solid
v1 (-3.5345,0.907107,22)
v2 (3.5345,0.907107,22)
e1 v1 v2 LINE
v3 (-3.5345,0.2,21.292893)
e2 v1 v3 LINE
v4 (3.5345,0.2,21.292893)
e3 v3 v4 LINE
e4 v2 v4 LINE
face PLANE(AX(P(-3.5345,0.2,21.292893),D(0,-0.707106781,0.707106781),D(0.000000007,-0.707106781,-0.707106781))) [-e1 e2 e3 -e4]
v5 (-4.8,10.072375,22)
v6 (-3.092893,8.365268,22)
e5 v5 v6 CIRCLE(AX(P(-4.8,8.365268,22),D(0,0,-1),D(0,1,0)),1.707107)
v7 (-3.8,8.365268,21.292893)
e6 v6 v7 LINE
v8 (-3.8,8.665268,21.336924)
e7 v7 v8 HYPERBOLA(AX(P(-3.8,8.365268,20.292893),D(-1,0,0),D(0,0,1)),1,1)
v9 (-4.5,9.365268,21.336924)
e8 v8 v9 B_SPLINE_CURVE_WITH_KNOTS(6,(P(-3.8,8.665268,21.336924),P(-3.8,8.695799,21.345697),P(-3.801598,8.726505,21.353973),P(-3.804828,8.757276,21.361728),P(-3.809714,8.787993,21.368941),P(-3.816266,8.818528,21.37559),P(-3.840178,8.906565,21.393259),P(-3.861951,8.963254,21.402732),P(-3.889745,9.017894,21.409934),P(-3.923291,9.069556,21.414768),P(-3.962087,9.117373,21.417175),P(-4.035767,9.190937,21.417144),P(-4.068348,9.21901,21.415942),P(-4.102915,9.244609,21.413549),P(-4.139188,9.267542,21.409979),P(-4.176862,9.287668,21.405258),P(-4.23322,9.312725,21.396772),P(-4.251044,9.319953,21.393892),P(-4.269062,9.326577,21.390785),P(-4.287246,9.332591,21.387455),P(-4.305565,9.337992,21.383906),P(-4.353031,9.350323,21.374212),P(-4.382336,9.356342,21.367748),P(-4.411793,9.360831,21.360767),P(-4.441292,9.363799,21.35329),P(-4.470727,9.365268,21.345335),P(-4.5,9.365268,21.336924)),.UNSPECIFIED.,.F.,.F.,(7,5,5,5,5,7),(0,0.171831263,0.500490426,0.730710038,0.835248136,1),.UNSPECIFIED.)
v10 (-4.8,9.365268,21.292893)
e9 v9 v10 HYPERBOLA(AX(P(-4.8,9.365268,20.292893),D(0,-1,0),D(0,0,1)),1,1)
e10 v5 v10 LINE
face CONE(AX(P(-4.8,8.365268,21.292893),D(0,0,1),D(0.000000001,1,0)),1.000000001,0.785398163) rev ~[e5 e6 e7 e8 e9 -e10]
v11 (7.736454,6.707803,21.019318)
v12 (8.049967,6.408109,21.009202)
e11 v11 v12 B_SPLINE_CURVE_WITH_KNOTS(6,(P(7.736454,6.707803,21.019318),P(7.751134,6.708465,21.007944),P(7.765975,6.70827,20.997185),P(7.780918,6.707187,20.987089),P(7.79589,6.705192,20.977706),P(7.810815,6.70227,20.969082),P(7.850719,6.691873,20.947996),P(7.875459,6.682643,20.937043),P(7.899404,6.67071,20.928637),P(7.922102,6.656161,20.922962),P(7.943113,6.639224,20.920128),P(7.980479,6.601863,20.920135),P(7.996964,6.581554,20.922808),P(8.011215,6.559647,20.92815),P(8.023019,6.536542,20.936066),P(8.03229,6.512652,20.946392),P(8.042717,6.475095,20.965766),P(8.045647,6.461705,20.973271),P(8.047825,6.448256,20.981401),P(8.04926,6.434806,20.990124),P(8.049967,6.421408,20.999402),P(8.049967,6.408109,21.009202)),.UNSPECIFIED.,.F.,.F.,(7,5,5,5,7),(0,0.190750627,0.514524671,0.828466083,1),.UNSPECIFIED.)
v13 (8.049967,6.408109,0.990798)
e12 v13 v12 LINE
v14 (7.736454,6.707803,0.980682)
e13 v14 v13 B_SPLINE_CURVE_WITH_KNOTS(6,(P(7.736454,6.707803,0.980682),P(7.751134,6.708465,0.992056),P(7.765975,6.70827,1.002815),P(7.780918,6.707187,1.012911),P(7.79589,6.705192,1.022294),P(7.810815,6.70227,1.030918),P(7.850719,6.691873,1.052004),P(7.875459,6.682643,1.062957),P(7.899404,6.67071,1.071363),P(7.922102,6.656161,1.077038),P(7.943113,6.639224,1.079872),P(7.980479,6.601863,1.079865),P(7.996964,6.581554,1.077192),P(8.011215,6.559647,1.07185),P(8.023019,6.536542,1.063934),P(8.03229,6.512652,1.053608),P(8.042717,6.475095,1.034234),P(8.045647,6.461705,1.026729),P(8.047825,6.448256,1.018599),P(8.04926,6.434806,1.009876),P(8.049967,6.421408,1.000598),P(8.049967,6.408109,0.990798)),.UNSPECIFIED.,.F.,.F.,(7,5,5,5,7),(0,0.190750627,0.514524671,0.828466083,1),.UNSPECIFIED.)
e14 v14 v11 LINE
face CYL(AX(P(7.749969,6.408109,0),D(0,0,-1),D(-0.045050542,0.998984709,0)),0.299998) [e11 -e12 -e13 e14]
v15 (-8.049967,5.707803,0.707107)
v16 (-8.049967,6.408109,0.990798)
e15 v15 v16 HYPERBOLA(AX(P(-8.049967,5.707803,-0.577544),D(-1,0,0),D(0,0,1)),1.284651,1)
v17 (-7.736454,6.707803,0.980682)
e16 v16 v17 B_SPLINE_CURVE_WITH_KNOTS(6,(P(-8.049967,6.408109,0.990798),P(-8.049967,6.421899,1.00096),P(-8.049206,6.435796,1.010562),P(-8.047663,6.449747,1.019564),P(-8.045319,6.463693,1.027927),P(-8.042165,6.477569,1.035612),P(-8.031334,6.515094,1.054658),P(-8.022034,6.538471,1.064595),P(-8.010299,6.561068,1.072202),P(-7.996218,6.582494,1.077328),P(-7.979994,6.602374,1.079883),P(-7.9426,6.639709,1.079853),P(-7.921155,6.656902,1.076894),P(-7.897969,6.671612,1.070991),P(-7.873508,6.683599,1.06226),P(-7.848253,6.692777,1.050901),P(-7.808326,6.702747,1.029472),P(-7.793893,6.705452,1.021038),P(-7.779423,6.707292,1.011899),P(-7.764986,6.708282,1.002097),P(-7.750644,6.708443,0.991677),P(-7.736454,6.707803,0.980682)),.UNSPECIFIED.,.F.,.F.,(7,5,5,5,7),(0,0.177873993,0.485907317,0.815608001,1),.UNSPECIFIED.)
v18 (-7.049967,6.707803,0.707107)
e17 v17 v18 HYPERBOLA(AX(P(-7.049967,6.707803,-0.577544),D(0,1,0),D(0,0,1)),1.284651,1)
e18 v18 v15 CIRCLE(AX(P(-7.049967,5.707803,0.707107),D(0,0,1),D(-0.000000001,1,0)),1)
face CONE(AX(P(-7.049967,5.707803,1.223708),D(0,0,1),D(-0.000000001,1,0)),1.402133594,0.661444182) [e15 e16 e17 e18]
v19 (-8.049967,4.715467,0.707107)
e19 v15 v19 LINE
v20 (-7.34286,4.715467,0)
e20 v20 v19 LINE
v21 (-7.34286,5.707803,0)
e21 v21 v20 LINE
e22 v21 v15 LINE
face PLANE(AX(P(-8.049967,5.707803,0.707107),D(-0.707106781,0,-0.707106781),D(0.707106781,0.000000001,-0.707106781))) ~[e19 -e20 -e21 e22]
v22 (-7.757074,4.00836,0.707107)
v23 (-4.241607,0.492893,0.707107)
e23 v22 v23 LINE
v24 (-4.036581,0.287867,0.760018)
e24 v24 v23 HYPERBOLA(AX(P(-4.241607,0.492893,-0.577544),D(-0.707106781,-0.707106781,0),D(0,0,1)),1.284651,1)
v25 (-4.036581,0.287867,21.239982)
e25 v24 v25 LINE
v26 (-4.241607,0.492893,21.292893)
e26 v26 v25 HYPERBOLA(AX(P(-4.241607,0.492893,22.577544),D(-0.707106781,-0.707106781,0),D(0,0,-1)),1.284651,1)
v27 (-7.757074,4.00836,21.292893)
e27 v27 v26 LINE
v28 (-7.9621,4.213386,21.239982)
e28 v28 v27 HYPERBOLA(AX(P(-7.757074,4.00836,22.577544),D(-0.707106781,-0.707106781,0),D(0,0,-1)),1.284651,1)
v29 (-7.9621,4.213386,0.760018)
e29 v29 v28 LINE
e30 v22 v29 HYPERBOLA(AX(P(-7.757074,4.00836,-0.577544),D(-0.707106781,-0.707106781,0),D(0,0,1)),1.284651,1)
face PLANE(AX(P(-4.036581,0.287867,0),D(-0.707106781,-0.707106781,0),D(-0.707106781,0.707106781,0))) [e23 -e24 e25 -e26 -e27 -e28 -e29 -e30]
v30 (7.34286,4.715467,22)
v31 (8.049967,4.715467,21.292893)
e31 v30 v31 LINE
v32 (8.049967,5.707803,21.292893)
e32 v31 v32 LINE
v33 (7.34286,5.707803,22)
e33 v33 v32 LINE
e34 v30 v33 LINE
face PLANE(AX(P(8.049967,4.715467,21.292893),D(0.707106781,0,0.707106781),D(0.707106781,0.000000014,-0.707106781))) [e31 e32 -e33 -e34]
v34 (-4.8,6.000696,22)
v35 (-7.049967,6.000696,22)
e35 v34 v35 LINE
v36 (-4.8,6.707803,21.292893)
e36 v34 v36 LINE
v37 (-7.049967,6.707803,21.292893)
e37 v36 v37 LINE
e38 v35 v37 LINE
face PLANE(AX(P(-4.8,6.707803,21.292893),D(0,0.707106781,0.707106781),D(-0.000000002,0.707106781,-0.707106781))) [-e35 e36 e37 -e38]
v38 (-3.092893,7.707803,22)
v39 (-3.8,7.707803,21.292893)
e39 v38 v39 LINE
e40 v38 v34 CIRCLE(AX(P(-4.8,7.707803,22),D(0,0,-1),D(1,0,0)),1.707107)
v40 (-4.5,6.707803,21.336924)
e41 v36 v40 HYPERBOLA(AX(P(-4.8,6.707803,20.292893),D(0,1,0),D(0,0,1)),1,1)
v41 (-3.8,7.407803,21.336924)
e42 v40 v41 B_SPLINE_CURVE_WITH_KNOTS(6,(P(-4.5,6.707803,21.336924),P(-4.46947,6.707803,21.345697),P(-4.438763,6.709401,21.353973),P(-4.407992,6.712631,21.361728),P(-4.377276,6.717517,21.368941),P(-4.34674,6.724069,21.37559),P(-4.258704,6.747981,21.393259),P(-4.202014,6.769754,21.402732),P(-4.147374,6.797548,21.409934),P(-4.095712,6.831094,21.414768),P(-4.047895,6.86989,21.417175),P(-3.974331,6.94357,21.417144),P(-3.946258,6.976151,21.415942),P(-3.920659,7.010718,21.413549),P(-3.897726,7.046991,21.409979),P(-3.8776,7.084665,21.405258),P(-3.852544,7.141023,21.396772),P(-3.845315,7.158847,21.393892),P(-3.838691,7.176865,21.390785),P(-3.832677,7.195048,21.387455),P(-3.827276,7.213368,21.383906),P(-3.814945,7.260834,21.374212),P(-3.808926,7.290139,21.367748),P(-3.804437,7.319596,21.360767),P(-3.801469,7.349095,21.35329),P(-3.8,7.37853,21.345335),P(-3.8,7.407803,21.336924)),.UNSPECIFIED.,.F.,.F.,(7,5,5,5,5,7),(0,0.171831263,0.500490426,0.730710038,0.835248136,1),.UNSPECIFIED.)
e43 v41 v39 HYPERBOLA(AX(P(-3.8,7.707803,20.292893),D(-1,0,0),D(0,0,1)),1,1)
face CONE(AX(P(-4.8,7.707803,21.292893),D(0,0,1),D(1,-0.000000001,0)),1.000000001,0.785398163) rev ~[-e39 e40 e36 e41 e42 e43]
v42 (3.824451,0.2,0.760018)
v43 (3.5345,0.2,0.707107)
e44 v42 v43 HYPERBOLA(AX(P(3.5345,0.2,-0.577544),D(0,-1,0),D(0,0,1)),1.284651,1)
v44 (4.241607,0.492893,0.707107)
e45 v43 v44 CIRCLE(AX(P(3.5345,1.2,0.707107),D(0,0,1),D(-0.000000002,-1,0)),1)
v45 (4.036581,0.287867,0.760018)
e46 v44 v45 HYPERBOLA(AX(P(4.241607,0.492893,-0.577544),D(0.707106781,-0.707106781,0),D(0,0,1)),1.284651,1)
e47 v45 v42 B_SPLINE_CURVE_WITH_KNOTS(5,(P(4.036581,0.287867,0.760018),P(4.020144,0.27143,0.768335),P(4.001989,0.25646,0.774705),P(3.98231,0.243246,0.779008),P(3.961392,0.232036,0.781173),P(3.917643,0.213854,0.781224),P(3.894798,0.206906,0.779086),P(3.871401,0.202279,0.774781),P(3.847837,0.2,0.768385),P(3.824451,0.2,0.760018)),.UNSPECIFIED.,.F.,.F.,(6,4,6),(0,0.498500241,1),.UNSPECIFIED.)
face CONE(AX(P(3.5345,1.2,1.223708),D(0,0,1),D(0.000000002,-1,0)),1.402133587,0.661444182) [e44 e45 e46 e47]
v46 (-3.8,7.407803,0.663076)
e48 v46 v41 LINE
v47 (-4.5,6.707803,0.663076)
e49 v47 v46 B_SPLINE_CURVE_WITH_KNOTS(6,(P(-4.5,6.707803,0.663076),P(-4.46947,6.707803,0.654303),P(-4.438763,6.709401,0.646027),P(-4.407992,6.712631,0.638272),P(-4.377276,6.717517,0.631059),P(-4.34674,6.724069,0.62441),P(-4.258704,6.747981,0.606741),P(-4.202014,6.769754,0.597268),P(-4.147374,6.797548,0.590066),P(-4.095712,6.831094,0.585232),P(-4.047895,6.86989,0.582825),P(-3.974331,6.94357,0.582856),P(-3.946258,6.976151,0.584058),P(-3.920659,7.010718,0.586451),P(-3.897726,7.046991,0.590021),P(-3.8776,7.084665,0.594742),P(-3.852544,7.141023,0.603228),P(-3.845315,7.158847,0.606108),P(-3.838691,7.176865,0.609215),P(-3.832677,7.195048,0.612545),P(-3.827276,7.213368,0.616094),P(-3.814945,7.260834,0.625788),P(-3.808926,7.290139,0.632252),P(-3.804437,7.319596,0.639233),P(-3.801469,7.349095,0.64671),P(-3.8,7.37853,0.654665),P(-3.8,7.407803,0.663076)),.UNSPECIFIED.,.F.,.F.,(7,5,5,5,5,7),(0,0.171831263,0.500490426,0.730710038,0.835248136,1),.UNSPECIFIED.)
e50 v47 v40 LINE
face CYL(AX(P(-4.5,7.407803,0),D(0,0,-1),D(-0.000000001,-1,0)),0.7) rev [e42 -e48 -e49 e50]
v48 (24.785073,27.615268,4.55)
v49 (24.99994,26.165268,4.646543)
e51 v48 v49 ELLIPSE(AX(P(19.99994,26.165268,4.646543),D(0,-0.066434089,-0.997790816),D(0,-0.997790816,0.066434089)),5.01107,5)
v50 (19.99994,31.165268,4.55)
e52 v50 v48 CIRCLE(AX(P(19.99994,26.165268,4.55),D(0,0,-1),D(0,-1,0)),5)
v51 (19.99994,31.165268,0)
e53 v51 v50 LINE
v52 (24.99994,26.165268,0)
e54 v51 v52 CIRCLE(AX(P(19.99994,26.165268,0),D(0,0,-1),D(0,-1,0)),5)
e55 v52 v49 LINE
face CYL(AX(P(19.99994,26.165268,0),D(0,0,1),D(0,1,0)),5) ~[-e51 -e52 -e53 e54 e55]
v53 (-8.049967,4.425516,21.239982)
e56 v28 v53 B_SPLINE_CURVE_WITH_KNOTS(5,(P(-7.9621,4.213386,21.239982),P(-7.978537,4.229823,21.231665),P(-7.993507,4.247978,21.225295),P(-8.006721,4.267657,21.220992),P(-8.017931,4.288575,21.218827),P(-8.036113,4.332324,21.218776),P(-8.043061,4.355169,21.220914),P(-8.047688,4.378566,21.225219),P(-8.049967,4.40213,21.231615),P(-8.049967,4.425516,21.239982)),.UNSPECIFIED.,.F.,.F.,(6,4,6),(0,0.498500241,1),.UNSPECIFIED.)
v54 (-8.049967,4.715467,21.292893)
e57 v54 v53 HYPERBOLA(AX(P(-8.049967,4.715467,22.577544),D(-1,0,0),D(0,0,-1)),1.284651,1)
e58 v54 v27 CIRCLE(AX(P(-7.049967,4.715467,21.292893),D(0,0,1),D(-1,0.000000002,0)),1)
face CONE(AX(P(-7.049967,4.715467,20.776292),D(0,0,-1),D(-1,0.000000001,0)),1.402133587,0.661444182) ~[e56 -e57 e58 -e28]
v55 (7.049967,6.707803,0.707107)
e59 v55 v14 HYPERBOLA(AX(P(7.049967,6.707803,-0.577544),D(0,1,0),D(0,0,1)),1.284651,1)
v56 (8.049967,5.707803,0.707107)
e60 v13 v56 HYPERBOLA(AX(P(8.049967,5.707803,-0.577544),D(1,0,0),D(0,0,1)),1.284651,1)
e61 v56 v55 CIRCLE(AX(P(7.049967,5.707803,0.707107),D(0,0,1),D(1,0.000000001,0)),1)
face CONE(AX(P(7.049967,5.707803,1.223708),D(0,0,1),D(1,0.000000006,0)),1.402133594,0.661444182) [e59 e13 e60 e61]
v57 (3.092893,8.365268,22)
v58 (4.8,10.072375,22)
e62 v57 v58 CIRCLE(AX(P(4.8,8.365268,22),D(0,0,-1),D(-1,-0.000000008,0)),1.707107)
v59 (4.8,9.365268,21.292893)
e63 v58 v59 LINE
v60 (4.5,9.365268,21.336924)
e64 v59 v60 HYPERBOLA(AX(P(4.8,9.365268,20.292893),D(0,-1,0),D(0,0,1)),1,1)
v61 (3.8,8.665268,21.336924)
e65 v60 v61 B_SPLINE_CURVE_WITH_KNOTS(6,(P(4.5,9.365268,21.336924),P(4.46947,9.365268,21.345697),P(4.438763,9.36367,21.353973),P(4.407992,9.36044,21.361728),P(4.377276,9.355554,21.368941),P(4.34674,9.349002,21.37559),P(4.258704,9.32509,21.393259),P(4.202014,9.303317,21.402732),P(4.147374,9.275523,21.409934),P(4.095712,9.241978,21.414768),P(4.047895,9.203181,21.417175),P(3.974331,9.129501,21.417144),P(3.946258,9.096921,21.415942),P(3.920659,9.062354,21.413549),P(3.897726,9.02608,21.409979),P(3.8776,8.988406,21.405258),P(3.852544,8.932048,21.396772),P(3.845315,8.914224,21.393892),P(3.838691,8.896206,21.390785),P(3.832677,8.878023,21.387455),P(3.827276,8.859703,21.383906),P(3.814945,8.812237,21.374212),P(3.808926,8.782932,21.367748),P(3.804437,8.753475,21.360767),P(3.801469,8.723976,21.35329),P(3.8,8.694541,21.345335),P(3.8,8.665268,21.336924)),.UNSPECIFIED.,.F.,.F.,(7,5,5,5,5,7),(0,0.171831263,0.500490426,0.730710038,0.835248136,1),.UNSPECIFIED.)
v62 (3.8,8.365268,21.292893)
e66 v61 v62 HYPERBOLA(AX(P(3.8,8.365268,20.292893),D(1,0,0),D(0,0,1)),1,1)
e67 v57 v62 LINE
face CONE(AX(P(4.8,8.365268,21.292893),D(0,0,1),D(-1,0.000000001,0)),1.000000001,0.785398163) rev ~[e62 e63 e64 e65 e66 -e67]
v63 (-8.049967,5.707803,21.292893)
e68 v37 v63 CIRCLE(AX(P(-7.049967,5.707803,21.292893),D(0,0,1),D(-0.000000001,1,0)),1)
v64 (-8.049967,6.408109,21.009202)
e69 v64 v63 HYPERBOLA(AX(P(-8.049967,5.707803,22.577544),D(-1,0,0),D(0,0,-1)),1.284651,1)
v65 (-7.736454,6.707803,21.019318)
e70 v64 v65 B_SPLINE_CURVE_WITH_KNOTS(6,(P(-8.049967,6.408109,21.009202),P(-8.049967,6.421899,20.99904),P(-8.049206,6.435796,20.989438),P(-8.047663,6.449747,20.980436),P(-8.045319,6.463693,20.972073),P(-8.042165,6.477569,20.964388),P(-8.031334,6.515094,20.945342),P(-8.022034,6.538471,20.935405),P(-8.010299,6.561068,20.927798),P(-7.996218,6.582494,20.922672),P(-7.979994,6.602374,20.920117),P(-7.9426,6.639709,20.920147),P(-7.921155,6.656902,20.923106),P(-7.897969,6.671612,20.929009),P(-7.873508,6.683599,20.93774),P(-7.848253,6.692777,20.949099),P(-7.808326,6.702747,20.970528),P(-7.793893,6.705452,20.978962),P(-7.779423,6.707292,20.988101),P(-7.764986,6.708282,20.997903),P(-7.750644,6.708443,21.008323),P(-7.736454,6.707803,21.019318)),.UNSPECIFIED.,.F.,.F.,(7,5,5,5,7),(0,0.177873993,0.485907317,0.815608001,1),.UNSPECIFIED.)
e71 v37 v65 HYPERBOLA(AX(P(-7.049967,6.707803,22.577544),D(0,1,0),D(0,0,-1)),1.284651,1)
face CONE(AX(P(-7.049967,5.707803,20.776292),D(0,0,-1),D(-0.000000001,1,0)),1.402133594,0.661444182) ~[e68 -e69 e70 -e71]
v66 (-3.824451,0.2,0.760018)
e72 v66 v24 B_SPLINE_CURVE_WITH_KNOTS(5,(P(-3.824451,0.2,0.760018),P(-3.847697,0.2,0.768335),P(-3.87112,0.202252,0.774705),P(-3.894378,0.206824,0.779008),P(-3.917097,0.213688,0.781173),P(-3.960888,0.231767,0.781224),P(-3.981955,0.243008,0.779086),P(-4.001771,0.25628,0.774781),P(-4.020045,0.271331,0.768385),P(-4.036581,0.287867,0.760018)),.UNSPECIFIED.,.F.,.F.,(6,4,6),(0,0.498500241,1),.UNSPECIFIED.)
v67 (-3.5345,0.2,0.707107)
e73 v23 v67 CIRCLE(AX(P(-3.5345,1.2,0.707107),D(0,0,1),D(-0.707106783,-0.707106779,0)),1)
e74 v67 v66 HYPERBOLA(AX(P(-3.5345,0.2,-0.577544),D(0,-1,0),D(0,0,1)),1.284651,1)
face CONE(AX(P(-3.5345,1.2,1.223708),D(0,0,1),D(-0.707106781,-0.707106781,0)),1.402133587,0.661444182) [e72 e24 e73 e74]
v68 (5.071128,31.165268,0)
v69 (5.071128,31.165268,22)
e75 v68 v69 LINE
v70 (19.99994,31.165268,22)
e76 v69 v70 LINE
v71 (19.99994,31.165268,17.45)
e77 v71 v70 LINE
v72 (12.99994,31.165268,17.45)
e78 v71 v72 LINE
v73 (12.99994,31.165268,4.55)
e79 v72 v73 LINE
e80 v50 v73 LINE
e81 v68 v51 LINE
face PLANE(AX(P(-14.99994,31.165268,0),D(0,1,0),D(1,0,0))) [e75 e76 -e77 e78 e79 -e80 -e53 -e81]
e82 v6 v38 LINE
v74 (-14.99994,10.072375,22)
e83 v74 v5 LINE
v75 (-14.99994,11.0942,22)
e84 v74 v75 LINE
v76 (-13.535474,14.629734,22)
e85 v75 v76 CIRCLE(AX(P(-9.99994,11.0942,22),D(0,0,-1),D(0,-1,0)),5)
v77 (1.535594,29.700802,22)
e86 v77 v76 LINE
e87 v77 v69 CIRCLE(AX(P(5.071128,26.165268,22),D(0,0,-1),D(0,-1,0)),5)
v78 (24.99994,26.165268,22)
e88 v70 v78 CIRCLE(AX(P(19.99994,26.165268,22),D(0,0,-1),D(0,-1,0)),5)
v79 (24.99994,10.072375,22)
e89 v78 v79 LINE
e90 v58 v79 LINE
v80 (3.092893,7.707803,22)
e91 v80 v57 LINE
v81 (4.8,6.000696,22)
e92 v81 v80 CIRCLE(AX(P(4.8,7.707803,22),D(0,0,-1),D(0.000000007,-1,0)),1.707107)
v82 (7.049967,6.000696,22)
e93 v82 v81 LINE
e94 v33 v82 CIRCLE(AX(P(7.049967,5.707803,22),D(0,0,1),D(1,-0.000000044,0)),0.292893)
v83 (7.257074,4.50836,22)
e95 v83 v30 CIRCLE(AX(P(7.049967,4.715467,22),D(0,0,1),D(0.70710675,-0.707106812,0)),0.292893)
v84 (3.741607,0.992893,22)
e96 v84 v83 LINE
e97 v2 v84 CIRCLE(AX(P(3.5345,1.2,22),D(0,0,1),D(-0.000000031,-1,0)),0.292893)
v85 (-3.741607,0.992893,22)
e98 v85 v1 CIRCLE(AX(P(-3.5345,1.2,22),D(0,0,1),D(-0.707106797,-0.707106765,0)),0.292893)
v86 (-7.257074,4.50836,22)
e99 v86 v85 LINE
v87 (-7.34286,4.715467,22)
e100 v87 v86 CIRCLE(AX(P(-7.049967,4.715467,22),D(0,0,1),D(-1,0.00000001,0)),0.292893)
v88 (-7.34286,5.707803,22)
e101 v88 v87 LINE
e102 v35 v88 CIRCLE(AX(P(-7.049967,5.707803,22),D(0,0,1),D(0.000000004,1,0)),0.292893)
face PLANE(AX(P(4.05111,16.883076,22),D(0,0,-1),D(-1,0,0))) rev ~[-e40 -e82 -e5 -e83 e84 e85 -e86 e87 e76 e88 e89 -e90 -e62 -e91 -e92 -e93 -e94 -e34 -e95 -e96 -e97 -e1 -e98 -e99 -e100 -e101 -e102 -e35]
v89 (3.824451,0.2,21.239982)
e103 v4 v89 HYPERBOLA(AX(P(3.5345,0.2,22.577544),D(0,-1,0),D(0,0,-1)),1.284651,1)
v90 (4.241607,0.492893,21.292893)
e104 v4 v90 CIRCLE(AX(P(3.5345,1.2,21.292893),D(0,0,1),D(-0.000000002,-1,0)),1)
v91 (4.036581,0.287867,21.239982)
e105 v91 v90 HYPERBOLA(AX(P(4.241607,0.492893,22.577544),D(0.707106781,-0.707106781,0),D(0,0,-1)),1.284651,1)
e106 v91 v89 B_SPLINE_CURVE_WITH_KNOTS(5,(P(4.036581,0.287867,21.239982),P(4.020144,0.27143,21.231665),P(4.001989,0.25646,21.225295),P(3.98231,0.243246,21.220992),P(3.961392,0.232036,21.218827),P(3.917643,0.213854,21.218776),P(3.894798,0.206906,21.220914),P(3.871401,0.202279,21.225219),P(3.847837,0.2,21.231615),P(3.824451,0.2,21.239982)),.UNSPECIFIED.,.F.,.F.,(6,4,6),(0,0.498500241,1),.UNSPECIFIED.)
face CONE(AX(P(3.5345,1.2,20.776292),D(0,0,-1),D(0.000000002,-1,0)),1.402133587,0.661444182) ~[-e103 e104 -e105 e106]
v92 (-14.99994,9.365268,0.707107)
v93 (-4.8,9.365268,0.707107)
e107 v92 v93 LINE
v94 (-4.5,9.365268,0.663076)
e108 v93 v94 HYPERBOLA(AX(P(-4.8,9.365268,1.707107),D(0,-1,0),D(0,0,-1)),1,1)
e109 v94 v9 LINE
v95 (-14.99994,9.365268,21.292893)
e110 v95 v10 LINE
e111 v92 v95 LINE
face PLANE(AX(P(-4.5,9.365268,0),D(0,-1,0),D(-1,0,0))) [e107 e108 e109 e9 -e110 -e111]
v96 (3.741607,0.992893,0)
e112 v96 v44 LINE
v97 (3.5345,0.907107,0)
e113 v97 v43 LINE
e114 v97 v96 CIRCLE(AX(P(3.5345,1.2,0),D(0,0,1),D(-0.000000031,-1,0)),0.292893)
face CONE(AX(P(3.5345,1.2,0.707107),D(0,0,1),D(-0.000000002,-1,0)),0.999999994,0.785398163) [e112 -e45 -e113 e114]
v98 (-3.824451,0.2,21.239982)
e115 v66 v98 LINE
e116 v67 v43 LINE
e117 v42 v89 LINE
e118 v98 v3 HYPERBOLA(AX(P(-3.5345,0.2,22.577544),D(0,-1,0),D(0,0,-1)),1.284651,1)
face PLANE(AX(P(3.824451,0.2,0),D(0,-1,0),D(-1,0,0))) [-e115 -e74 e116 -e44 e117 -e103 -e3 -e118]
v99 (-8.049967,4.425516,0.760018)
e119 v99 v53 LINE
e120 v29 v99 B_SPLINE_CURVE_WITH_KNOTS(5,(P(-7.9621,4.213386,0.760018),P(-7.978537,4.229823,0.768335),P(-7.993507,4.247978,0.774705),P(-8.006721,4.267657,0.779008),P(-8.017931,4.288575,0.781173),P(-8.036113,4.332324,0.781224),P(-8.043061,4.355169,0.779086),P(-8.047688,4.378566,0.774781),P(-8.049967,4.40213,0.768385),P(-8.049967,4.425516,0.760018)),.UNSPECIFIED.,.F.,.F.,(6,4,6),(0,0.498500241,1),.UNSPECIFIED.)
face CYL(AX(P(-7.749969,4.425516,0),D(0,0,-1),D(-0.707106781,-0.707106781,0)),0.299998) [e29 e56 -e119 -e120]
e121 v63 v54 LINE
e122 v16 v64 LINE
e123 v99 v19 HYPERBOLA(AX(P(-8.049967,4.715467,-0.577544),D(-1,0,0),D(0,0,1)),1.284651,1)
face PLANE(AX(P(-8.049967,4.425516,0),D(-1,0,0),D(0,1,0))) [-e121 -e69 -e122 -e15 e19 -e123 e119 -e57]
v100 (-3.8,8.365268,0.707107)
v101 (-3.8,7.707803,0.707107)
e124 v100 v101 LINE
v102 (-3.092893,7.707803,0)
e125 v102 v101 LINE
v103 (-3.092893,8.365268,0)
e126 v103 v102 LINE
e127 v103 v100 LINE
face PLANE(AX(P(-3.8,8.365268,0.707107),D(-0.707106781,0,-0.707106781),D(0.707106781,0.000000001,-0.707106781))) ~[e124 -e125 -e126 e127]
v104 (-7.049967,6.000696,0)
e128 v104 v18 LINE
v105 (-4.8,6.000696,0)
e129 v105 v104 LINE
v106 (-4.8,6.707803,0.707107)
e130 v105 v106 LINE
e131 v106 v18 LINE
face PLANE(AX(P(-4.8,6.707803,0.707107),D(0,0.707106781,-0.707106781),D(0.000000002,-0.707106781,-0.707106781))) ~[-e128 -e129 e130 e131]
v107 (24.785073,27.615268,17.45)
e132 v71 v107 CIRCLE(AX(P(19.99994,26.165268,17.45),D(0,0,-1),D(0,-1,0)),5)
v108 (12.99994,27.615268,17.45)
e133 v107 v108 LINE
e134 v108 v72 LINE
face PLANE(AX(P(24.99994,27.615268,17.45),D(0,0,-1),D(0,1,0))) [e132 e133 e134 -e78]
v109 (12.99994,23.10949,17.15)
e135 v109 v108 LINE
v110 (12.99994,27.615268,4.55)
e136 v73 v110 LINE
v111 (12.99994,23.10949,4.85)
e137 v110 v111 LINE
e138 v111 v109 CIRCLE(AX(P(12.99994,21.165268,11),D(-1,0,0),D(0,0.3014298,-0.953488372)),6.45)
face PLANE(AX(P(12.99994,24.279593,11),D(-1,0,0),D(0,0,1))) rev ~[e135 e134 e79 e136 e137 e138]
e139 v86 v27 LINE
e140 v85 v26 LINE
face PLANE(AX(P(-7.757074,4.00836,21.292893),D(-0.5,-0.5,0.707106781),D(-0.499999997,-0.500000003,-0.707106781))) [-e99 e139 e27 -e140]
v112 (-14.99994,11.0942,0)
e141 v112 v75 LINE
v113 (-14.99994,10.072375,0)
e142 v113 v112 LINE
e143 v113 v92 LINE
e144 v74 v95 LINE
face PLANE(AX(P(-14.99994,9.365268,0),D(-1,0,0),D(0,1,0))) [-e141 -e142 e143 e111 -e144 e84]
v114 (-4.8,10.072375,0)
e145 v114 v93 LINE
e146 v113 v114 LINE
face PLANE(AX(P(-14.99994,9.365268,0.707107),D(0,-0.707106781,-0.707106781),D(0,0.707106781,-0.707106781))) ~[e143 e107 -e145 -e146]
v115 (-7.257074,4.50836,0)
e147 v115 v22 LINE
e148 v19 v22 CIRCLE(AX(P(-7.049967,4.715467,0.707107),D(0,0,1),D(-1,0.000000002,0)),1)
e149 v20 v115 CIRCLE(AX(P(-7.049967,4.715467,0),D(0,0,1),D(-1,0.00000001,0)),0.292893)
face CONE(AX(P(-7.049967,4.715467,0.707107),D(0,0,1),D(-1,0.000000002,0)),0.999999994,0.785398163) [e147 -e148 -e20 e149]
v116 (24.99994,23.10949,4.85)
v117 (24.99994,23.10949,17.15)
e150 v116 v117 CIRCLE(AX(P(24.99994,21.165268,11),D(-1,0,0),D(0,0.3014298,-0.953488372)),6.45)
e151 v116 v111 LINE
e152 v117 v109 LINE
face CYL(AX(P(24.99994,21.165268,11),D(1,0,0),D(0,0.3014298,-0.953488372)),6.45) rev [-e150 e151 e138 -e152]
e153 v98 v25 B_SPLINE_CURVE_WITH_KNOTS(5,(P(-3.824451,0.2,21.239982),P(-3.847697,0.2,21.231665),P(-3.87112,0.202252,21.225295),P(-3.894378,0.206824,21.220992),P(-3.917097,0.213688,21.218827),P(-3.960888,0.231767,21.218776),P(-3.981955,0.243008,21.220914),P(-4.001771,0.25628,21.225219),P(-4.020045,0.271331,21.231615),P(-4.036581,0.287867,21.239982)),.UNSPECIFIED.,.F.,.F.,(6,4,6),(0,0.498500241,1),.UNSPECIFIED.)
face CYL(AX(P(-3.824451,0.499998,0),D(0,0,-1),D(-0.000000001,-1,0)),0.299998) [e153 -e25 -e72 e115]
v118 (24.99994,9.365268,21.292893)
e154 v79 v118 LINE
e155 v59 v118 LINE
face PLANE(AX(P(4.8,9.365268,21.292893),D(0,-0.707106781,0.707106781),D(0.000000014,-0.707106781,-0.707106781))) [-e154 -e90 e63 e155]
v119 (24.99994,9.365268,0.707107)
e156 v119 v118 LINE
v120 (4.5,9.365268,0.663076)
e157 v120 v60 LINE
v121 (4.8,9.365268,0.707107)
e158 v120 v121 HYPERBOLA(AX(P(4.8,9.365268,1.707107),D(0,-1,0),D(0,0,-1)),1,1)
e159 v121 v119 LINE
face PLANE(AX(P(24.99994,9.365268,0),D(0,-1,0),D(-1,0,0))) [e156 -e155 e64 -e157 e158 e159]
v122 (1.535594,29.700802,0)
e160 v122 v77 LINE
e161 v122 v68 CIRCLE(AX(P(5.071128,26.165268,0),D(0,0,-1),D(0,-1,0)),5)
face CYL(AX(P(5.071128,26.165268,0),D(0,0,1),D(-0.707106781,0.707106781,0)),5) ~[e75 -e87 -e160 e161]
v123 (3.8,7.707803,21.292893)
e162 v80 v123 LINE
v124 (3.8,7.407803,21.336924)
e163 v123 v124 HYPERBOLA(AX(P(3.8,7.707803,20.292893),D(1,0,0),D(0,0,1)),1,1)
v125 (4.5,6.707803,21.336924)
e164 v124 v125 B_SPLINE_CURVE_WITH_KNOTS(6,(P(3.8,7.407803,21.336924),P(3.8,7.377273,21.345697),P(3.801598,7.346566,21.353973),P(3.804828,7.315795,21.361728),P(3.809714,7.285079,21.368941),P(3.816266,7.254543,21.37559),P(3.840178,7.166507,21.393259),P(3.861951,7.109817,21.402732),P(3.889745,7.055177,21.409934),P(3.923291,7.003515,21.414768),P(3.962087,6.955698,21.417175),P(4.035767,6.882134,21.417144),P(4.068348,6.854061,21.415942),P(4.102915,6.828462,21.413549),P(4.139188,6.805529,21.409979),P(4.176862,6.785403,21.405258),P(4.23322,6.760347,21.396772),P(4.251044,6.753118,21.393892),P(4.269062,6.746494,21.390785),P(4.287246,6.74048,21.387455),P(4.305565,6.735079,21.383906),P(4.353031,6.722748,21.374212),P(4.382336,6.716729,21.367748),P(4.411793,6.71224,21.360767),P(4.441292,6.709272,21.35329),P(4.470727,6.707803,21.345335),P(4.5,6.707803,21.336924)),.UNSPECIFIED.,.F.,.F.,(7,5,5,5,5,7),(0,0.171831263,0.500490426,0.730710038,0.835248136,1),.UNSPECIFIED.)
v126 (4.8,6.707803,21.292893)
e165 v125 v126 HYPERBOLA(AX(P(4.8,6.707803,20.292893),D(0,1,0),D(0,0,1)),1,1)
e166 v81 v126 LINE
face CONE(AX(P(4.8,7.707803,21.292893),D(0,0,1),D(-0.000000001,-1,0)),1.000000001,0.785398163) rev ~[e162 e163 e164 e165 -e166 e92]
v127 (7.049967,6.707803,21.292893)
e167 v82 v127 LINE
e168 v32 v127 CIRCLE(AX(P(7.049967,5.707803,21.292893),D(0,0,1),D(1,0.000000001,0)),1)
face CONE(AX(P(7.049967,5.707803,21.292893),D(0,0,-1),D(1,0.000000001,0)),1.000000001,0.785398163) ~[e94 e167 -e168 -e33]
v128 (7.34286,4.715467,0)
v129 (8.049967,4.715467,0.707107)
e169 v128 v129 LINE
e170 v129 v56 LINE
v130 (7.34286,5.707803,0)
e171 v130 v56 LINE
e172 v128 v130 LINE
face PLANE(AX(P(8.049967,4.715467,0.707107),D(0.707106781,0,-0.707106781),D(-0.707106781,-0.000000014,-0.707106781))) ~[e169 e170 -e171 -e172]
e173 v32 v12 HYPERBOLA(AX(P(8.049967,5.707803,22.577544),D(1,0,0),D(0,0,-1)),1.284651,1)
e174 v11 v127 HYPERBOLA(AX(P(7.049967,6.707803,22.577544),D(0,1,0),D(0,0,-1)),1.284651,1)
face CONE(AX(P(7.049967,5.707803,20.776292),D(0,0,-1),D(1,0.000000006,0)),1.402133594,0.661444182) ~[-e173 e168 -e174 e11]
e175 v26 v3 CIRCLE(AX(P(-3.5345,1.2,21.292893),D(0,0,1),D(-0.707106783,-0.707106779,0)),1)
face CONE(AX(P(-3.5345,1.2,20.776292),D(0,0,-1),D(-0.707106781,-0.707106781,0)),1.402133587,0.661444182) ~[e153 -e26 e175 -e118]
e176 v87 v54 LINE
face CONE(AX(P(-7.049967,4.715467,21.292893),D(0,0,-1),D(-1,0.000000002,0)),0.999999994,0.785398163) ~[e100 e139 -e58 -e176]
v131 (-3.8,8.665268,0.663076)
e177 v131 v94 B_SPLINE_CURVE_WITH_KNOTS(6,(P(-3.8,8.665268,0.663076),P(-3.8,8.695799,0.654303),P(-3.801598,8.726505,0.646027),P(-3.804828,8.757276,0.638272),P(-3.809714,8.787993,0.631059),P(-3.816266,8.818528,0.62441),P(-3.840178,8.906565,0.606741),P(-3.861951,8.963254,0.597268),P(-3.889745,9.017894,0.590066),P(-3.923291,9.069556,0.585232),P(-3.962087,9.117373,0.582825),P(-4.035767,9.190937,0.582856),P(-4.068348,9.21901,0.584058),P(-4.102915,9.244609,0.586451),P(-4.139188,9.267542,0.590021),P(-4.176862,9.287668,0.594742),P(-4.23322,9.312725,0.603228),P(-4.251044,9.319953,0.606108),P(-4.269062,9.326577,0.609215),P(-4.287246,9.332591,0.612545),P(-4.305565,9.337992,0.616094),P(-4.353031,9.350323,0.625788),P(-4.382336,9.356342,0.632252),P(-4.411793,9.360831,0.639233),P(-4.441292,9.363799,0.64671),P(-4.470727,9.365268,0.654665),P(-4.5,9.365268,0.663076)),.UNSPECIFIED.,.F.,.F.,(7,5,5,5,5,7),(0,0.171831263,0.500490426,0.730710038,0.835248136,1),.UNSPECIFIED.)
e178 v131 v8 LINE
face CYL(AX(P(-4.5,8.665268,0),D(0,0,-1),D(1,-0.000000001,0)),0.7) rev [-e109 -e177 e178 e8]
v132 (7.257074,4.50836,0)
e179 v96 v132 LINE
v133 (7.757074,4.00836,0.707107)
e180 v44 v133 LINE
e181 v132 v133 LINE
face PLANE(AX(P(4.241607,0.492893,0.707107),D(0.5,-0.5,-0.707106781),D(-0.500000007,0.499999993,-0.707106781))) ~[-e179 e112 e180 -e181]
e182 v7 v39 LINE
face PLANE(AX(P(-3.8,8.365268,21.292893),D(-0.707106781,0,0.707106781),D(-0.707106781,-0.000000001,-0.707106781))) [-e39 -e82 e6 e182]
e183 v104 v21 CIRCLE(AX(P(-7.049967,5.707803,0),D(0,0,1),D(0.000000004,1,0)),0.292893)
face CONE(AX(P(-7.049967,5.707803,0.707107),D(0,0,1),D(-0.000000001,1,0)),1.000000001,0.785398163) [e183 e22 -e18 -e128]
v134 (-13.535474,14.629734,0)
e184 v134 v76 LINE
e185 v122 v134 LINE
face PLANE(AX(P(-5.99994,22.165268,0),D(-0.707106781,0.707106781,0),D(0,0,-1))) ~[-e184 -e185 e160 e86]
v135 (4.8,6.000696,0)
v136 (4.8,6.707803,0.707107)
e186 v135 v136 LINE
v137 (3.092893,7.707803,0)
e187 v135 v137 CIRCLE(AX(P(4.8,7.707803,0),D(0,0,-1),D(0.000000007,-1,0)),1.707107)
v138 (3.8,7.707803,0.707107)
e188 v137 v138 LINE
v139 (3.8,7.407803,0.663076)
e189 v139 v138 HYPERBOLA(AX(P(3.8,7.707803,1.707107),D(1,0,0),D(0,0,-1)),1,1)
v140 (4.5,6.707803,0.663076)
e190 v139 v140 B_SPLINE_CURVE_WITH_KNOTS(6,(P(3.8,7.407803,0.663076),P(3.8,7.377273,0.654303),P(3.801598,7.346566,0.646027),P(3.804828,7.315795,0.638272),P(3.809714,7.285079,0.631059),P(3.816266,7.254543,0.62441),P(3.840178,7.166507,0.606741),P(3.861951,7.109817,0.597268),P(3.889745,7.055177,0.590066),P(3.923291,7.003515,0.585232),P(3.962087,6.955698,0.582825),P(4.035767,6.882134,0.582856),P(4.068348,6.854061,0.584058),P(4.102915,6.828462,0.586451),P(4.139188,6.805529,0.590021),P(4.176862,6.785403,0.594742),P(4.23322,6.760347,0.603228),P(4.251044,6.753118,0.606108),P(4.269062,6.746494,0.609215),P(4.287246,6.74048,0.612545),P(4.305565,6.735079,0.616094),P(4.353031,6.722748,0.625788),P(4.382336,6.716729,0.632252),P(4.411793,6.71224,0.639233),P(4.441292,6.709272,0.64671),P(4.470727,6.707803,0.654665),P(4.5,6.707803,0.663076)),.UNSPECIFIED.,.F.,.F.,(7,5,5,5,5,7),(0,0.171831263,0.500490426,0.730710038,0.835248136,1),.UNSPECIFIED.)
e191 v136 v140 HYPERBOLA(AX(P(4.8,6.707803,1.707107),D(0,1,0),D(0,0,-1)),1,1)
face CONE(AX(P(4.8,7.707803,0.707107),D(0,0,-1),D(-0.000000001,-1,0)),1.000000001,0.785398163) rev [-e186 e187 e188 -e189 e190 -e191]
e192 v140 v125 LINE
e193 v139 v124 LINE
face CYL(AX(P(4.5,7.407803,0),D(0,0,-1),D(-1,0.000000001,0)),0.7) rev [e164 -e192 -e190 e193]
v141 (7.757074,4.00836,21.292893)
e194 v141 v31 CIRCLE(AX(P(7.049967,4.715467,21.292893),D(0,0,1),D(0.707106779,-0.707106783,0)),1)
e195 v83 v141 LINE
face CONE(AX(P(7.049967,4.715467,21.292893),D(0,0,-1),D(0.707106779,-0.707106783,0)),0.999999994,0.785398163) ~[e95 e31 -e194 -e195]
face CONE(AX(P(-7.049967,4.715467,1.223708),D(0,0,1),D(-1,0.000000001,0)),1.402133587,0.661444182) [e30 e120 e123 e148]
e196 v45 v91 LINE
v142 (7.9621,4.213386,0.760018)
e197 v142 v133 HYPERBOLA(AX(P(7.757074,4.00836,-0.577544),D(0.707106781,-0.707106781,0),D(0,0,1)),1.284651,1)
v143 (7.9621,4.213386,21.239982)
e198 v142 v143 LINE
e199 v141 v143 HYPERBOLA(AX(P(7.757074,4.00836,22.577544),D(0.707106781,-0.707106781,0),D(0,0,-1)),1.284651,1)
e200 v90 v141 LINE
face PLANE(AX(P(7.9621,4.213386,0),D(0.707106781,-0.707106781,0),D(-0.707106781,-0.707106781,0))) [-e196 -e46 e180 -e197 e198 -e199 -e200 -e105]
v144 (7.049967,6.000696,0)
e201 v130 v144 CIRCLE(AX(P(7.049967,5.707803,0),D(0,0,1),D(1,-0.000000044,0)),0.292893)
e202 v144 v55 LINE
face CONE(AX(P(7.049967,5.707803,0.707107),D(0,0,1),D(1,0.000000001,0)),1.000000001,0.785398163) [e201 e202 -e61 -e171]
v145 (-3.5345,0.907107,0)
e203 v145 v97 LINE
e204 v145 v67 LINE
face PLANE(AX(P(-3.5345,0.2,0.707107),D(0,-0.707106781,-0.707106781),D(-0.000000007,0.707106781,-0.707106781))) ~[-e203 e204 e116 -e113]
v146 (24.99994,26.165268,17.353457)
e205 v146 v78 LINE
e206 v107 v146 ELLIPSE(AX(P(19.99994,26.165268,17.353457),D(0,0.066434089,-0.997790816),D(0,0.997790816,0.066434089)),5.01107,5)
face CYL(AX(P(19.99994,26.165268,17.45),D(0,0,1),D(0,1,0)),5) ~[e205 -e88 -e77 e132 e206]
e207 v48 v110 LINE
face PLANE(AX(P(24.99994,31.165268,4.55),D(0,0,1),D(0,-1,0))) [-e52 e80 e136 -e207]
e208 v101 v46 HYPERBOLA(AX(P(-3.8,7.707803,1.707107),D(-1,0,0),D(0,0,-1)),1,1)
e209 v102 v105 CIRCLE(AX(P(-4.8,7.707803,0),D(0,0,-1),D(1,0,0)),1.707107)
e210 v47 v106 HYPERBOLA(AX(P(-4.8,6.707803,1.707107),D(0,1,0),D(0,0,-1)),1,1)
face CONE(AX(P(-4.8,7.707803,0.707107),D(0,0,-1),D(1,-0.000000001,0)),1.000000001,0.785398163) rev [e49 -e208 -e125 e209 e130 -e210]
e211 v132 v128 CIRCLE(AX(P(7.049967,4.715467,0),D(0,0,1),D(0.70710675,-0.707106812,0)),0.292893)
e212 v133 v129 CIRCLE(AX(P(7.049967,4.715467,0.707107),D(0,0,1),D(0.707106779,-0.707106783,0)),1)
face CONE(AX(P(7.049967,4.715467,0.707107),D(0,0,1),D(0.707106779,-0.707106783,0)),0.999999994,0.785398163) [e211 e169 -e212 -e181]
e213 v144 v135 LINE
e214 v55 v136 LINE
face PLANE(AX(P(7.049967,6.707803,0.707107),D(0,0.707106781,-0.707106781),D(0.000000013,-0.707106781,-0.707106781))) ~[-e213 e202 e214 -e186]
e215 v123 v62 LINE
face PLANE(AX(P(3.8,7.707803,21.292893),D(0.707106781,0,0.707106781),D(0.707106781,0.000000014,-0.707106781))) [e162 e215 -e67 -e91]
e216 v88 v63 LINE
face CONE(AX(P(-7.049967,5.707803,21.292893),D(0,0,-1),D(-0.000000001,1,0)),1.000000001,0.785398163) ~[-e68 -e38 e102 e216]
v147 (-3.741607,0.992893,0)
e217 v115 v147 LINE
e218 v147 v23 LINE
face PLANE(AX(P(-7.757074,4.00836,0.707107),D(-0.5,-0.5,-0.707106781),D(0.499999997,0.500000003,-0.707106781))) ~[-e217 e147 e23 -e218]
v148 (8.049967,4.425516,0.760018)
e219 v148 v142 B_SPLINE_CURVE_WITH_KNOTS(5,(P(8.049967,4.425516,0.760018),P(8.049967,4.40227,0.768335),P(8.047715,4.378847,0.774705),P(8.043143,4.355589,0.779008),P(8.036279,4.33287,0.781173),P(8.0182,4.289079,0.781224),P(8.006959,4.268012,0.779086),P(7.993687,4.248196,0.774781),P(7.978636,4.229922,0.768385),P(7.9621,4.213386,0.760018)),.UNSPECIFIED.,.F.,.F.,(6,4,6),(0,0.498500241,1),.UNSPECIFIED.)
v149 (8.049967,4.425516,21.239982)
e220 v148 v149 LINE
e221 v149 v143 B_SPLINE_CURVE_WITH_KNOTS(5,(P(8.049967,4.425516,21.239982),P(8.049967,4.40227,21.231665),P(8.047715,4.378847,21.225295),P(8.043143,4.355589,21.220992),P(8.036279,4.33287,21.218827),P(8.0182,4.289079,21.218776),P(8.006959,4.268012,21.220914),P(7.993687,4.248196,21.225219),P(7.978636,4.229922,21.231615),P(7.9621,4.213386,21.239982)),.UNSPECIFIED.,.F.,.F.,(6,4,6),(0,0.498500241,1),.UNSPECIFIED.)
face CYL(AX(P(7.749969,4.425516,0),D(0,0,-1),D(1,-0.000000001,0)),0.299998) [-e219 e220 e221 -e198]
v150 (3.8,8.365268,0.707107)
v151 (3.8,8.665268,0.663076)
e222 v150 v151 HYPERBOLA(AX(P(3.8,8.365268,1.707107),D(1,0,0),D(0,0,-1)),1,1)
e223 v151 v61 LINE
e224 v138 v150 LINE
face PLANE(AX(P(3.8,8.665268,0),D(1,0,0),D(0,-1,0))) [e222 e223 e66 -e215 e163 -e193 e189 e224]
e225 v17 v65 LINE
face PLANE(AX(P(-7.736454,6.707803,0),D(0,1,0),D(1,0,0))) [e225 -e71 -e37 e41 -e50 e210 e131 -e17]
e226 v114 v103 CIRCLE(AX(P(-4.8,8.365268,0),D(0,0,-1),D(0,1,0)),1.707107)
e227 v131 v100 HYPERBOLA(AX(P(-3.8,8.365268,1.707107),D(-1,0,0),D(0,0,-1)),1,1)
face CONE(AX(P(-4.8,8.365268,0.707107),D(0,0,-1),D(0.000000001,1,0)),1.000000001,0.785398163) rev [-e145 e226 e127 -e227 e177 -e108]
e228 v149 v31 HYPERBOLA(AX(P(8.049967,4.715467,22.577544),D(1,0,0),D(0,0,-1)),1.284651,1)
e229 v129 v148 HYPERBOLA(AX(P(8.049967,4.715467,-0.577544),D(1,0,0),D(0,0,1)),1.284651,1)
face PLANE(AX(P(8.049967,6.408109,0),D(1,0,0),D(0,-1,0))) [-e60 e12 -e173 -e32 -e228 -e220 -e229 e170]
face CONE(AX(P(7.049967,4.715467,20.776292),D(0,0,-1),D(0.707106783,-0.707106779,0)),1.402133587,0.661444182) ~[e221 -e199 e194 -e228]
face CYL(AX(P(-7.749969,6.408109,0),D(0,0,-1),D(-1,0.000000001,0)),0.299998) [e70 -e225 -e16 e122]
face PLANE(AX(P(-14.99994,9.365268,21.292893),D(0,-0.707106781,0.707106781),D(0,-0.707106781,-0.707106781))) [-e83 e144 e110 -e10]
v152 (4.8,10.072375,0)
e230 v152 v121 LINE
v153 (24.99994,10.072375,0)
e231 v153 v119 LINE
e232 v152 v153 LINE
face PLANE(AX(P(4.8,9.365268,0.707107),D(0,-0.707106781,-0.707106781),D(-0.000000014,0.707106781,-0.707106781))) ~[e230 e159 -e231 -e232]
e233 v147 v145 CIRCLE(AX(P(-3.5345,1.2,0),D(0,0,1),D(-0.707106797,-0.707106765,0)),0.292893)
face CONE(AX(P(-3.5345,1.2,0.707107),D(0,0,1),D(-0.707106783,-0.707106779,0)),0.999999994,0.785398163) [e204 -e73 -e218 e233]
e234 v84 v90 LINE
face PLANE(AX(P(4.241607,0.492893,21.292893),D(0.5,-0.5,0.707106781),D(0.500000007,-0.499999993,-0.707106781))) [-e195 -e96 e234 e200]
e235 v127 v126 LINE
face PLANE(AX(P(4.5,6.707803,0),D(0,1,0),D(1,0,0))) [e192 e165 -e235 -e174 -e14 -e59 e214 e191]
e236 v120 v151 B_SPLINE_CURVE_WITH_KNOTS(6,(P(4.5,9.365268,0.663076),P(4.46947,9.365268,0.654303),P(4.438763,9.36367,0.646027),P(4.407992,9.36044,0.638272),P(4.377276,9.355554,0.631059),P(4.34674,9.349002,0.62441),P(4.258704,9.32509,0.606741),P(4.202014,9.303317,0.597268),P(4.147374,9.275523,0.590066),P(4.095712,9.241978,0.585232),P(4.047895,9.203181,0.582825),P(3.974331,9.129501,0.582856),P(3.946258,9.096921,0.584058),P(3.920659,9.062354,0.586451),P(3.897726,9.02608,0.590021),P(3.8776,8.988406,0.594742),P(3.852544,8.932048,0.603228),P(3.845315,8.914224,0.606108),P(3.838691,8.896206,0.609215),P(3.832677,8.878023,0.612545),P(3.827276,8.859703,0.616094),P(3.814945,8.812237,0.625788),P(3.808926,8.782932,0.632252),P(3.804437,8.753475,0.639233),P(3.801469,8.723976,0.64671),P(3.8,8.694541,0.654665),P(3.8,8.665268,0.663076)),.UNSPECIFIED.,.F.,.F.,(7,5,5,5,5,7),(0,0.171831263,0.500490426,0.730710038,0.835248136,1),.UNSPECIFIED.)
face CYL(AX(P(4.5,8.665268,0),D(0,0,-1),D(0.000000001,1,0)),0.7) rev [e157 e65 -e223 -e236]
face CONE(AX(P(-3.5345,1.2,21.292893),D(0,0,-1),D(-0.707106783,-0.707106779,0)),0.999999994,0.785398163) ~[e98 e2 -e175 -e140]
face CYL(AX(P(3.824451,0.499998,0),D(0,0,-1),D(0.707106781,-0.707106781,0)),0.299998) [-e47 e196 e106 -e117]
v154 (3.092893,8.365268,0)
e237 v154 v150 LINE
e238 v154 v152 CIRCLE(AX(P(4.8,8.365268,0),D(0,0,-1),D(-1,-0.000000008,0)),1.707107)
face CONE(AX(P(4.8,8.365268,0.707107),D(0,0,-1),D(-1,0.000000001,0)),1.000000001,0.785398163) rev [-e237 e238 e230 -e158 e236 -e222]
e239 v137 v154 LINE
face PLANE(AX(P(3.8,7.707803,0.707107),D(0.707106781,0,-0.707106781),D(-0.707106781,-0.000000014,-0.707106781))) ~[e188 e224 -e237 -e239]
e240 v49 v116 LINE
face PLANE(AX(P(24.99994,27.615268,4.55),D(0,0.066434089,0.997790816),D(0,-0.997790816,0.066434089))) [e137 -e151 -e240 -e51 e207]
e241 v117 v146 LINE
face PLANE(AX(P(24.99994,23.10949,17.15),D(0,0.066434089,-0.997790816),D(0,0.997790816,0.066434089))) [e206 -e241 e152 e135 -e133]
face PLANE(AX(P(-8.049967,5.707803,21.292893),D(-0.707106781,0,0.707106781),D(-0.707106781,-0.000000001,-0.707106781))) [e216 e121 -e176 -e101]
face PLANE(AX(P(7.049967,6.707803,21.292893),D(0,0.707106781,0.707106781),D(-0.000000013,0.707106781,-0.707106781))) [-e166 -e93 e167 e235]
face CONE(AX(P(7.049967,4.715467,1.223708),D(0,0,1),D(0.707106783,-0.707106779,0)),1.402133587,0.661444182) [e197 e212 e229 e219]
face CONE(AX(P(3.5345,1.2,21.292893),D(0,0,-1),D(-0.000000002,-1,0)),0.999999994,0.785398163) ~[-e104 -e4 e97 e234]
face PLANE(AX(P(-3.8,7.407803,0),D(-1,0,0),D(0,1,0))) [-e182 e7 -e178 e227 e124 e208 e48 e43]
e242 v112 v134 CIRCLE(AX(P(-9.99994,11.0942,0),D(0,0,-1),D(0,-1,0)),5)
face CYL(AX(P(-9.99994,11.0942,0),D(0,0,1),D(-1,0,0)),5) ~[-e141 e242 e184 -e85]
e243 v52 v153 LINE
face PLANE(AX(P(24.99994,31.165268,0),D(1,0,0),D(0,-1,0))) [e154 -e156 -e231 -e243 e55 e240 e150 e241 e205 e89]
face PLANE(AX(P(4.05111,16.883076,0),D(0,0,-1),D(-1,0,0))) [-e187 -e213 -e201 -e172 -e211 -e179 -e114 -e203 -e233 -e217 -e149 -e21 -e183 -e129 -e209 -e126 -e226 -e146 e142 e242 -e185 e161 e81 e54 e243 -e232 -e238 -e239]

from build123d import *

# Parameters (mm, degrees)
BOSS_EXTRUDE1_DEPTH = 22
CUT_EXTRUDE1_DEPTH  = 12
CHAMFER1_SIZE       = 18
FILLET1_R           = 5
FILLET2_R           = 5


with BuildPart() as part:
    # Sketch2 → Boss-Extrude1 (new body)
    with BuildSketch(Plane.XY):
        with BuildLine():
            Line((14.99994, 31.165268255), (24.99994, 31.165268255))
            Line((24.99994, 31.165268255), (24.99994, 9.365268255))
            Line((24.99994, 9.365268255), (14.99994, 9.365268255))
            Line((14.99994, 9.365268255), (12.999948, 9.365268255))
            Line((12.999948, 9.365268255), (4.5, 9.365268255))
            ThreePointArc((4.5, 9.365268255), (4.005025253, 9.160243002), (3.8, 8.665268255))
            Line((3.8, 8.665268255), (3.8, 7.407802905))
            ThreePointArc((3.8, 7.407802905), (4.005025253, 6.912828158), (4.5, 6.707802905))
            Line((4.5, 6.707802905), (7.736453928, 6.707802905))
            ThreePointArc((7.736453928, 6.707802905), (7.957266257, 6.624965773), (8.049967, 6.408109491))
            Line((8.049967, 6.408109491), (8.049967, 4.425516287))
            ThreePointArc((8.049967, 4.425516287), (8.027131012, 4.310712023), (7.96209962, 4.213385667))
            Line((7.96209962, 4.213385667), (4.036581333, 0.28786738))
            ThreePointArc((4.036581333, 0.28786738), (3.939254977, 0.222835988), (3.824450713, 0.2))
            Line((3.824450713, 0.2), (-3.824450713, 0.2))
            ThreePointArc((-3.824450713, 0.2), (-3.939254977, 0.222835988), (-4.036581333, 0.28786738))
            Line((-4.036581333, 0.28786738), (-7.96209962, 4.213385667))
            ThreePointArc((-7.96209962, 4.213385667), (-8.027131012, 4.310712023), (-8.049967, 4.425516287))
            Line((-8.049967, 4.425516287), (-8.049967, 6.408109491))
            ThreePointArc((-8.049967, 6.408109491), (-7.957266257, 6.624965773), (-7.736453928, 6.707802905))
            Line((-7.736453928, 6.707802905), (-4.5, 6.707802905))
            ThreePointArc((-4.5, 6.707802905), (-4.005025253, 6.912828158), (-3.8, 7.407802905))
            Line((-3.8, 7.407802905), (-3.8, 8.665268255))
            ThreePointArc((-3.8, 8.665268255), (-4.005025253, 9.160243002), (-4.5, 9.365268255))
            Line((-4.5, 9.365268255), (-12.999948, 9.365268255))
            Line((-12.999948, 9.365268255), (-14.99994, 9.365268255))
            Line((-14.99994, 9.365268255), (-14.99994, 31.165268255))
            Line((-14.99994, 31.165268255), (14.99994, 31.165268255))
        make_face()
    extrude(amount=BOSS_EXTRUDE1_DEPTH)

    # Sketch3 → Cut-Extrude1 (cut)
    with BuildSketch(Plane(origin=(24.99994, 0, 0), x_dir=(0, 0, -1), z_dir=(1, 0, 0))):
        with BuildLine():
            Line((-17.45, 31.165268255), (-4.55, 31.165268255))
            Line((-4.55, 31.165268255), (-4.55, 27.615268255))
            Line((-4.55, 27.615268255), (-4.85, 23.109490465))
            ThreePointArc((-4.85, 23.109490465), (-11, 14.715268255), (-17.15, 23.109490465))
            Line((-17.15, 23.109490465), (-17.45, 27.615268255))
            Line((-17.45, 27.615268255), (-17.45, 31.165268255))
        make_face()
    extrude(amount=-CUT_EXTRUDE1_DEPTH, mode=Mode.SUBTRACT)

    # Chamfer1
    chamfer1_edges = [part.edges().sort_by_distance(p)[0] for p in [
        (-14.99994, 31.165268255, 11),
    ]]
    chamfer(chamfer1_edges, length=CHAMFER1_SIZE)

    # Fillet1
    fillet1_edges = [part.edges().sort_by_distance(p)[0] for p in [
        (-14.99994, 13.165268255, 11),
        (3.00006, 31.165268255, 11),
    ]]
    fillet(fillet1_edges, radius=FILLET1_R)

    # Fillet2
    fillet2_edges = [part.edges().sort_by_distance(p)[0] for p in [
        (24.99994, 31.165268255, 2.275),
        (24.99994, 31.165268255, 19.725),
    ]]
    fillet(fillet2_edges, radius=FILLET2_R)

    # Cut-Sweep7: sweep along a path in Sketch43
    with BuildLine(Plane.XY.offset(22)) as cut_sweep7_path:
        Line((-14.99994, 9.365268255), (-4.8, 9.365268255))
        ThreePointArc((-4.8, 9.365268255), (-4.092893219, 9.072375036), (-3.8, 8.365268255))
        Line((-3.8, 8.365268255), (-3.8, 7.707802905))
        ThreePointArc((-3.8, 7.707802905), (-4.092893219, 7.000696124), (-4.8, 6.707802905))
        Line((-4.8, 6.707802905), (-7.049967, 6.707802905))
        ThreePointArc((-7.049967, 6.707802905), (-7.757073781, 6.414909686), (-8.049967, 5.707802905))
        Line((-8.049967, 5.707802905), (-8.049967, 4.715466609))
        ThreePointArc((-8.049967, 4.715466609), (-7.973846533, 4.332783177), (-7.757073781, 4.008359828))
        Line((-7.757073781, 4.008359828), (-4.241607172, 0.492893219))
        ThreePointArc((-4.241607172, 0.492893219), (-3.917183823, 0.276120467), (-3.534500391, 0.2))
        Line((-3.534500391, 0.2), (3.534500391, 0.2))
        ThreePointArc((3.534500391, 0.2), (3.917183823, 0.276120467), (4.241607172, 0.492893219))
        Line((4.241607172, 0.492893219), (7.757073781, 4.008359828))
        ThreePointArc((7.757073781, 4.008359828), (7.973846533, 4.332783177), (8.049967, 4.715466609))
        Line((8.049967, 4.715466609), (8.049967, 5.707802905))
        ThreePointArc((8.049967, 5.707802905), (7.757073781, 6.414909686), (7.049967, 6.707802905))
        Line((7.049967, 6.707802905), (4.8, 6.707802905))
        ThreePointArc((4.8, 6.707802905), (4.092893219, 7.000696124), (3.8, 7.707802905))
        Line((3.8, 7.707802905), (3.8, 8.365268255))
        ThreePointArc((3.8, 8.365268255), (4.092893219, 9.072375036), (4.8, 9.365268255))
        Line((4.8, 9.365268255), (14.99994, 9.365268255))
        Line((14.99994, 9.365268255), (24.99994, 9.365268255))
    # Sketch4 → Cut-Sweep7 (sweep, cut)
    with BuildSketch(Plane.ZY.offset(14.99994)):
        Polygon((22, 10.072375036), (22.707106781, 9.365268255), (22, 8.658161474), (20.776291928, 8.963134662), (21.292893219, 9.365268255), align=None)
    cut_sweep7 = sweep(path=cut_sweep7_path.line, mode=Mode.SUBTRACT)

    # Mirror1: Cut-Sweep7 across plane
    add(cut_sweep7.mirror(Plane(origin=(0, 0, 11), x_dir=(1, 0, 0), z_dir=(0, 0, -1))), mode=Mode.SUBTRACT)


solid = part.part
